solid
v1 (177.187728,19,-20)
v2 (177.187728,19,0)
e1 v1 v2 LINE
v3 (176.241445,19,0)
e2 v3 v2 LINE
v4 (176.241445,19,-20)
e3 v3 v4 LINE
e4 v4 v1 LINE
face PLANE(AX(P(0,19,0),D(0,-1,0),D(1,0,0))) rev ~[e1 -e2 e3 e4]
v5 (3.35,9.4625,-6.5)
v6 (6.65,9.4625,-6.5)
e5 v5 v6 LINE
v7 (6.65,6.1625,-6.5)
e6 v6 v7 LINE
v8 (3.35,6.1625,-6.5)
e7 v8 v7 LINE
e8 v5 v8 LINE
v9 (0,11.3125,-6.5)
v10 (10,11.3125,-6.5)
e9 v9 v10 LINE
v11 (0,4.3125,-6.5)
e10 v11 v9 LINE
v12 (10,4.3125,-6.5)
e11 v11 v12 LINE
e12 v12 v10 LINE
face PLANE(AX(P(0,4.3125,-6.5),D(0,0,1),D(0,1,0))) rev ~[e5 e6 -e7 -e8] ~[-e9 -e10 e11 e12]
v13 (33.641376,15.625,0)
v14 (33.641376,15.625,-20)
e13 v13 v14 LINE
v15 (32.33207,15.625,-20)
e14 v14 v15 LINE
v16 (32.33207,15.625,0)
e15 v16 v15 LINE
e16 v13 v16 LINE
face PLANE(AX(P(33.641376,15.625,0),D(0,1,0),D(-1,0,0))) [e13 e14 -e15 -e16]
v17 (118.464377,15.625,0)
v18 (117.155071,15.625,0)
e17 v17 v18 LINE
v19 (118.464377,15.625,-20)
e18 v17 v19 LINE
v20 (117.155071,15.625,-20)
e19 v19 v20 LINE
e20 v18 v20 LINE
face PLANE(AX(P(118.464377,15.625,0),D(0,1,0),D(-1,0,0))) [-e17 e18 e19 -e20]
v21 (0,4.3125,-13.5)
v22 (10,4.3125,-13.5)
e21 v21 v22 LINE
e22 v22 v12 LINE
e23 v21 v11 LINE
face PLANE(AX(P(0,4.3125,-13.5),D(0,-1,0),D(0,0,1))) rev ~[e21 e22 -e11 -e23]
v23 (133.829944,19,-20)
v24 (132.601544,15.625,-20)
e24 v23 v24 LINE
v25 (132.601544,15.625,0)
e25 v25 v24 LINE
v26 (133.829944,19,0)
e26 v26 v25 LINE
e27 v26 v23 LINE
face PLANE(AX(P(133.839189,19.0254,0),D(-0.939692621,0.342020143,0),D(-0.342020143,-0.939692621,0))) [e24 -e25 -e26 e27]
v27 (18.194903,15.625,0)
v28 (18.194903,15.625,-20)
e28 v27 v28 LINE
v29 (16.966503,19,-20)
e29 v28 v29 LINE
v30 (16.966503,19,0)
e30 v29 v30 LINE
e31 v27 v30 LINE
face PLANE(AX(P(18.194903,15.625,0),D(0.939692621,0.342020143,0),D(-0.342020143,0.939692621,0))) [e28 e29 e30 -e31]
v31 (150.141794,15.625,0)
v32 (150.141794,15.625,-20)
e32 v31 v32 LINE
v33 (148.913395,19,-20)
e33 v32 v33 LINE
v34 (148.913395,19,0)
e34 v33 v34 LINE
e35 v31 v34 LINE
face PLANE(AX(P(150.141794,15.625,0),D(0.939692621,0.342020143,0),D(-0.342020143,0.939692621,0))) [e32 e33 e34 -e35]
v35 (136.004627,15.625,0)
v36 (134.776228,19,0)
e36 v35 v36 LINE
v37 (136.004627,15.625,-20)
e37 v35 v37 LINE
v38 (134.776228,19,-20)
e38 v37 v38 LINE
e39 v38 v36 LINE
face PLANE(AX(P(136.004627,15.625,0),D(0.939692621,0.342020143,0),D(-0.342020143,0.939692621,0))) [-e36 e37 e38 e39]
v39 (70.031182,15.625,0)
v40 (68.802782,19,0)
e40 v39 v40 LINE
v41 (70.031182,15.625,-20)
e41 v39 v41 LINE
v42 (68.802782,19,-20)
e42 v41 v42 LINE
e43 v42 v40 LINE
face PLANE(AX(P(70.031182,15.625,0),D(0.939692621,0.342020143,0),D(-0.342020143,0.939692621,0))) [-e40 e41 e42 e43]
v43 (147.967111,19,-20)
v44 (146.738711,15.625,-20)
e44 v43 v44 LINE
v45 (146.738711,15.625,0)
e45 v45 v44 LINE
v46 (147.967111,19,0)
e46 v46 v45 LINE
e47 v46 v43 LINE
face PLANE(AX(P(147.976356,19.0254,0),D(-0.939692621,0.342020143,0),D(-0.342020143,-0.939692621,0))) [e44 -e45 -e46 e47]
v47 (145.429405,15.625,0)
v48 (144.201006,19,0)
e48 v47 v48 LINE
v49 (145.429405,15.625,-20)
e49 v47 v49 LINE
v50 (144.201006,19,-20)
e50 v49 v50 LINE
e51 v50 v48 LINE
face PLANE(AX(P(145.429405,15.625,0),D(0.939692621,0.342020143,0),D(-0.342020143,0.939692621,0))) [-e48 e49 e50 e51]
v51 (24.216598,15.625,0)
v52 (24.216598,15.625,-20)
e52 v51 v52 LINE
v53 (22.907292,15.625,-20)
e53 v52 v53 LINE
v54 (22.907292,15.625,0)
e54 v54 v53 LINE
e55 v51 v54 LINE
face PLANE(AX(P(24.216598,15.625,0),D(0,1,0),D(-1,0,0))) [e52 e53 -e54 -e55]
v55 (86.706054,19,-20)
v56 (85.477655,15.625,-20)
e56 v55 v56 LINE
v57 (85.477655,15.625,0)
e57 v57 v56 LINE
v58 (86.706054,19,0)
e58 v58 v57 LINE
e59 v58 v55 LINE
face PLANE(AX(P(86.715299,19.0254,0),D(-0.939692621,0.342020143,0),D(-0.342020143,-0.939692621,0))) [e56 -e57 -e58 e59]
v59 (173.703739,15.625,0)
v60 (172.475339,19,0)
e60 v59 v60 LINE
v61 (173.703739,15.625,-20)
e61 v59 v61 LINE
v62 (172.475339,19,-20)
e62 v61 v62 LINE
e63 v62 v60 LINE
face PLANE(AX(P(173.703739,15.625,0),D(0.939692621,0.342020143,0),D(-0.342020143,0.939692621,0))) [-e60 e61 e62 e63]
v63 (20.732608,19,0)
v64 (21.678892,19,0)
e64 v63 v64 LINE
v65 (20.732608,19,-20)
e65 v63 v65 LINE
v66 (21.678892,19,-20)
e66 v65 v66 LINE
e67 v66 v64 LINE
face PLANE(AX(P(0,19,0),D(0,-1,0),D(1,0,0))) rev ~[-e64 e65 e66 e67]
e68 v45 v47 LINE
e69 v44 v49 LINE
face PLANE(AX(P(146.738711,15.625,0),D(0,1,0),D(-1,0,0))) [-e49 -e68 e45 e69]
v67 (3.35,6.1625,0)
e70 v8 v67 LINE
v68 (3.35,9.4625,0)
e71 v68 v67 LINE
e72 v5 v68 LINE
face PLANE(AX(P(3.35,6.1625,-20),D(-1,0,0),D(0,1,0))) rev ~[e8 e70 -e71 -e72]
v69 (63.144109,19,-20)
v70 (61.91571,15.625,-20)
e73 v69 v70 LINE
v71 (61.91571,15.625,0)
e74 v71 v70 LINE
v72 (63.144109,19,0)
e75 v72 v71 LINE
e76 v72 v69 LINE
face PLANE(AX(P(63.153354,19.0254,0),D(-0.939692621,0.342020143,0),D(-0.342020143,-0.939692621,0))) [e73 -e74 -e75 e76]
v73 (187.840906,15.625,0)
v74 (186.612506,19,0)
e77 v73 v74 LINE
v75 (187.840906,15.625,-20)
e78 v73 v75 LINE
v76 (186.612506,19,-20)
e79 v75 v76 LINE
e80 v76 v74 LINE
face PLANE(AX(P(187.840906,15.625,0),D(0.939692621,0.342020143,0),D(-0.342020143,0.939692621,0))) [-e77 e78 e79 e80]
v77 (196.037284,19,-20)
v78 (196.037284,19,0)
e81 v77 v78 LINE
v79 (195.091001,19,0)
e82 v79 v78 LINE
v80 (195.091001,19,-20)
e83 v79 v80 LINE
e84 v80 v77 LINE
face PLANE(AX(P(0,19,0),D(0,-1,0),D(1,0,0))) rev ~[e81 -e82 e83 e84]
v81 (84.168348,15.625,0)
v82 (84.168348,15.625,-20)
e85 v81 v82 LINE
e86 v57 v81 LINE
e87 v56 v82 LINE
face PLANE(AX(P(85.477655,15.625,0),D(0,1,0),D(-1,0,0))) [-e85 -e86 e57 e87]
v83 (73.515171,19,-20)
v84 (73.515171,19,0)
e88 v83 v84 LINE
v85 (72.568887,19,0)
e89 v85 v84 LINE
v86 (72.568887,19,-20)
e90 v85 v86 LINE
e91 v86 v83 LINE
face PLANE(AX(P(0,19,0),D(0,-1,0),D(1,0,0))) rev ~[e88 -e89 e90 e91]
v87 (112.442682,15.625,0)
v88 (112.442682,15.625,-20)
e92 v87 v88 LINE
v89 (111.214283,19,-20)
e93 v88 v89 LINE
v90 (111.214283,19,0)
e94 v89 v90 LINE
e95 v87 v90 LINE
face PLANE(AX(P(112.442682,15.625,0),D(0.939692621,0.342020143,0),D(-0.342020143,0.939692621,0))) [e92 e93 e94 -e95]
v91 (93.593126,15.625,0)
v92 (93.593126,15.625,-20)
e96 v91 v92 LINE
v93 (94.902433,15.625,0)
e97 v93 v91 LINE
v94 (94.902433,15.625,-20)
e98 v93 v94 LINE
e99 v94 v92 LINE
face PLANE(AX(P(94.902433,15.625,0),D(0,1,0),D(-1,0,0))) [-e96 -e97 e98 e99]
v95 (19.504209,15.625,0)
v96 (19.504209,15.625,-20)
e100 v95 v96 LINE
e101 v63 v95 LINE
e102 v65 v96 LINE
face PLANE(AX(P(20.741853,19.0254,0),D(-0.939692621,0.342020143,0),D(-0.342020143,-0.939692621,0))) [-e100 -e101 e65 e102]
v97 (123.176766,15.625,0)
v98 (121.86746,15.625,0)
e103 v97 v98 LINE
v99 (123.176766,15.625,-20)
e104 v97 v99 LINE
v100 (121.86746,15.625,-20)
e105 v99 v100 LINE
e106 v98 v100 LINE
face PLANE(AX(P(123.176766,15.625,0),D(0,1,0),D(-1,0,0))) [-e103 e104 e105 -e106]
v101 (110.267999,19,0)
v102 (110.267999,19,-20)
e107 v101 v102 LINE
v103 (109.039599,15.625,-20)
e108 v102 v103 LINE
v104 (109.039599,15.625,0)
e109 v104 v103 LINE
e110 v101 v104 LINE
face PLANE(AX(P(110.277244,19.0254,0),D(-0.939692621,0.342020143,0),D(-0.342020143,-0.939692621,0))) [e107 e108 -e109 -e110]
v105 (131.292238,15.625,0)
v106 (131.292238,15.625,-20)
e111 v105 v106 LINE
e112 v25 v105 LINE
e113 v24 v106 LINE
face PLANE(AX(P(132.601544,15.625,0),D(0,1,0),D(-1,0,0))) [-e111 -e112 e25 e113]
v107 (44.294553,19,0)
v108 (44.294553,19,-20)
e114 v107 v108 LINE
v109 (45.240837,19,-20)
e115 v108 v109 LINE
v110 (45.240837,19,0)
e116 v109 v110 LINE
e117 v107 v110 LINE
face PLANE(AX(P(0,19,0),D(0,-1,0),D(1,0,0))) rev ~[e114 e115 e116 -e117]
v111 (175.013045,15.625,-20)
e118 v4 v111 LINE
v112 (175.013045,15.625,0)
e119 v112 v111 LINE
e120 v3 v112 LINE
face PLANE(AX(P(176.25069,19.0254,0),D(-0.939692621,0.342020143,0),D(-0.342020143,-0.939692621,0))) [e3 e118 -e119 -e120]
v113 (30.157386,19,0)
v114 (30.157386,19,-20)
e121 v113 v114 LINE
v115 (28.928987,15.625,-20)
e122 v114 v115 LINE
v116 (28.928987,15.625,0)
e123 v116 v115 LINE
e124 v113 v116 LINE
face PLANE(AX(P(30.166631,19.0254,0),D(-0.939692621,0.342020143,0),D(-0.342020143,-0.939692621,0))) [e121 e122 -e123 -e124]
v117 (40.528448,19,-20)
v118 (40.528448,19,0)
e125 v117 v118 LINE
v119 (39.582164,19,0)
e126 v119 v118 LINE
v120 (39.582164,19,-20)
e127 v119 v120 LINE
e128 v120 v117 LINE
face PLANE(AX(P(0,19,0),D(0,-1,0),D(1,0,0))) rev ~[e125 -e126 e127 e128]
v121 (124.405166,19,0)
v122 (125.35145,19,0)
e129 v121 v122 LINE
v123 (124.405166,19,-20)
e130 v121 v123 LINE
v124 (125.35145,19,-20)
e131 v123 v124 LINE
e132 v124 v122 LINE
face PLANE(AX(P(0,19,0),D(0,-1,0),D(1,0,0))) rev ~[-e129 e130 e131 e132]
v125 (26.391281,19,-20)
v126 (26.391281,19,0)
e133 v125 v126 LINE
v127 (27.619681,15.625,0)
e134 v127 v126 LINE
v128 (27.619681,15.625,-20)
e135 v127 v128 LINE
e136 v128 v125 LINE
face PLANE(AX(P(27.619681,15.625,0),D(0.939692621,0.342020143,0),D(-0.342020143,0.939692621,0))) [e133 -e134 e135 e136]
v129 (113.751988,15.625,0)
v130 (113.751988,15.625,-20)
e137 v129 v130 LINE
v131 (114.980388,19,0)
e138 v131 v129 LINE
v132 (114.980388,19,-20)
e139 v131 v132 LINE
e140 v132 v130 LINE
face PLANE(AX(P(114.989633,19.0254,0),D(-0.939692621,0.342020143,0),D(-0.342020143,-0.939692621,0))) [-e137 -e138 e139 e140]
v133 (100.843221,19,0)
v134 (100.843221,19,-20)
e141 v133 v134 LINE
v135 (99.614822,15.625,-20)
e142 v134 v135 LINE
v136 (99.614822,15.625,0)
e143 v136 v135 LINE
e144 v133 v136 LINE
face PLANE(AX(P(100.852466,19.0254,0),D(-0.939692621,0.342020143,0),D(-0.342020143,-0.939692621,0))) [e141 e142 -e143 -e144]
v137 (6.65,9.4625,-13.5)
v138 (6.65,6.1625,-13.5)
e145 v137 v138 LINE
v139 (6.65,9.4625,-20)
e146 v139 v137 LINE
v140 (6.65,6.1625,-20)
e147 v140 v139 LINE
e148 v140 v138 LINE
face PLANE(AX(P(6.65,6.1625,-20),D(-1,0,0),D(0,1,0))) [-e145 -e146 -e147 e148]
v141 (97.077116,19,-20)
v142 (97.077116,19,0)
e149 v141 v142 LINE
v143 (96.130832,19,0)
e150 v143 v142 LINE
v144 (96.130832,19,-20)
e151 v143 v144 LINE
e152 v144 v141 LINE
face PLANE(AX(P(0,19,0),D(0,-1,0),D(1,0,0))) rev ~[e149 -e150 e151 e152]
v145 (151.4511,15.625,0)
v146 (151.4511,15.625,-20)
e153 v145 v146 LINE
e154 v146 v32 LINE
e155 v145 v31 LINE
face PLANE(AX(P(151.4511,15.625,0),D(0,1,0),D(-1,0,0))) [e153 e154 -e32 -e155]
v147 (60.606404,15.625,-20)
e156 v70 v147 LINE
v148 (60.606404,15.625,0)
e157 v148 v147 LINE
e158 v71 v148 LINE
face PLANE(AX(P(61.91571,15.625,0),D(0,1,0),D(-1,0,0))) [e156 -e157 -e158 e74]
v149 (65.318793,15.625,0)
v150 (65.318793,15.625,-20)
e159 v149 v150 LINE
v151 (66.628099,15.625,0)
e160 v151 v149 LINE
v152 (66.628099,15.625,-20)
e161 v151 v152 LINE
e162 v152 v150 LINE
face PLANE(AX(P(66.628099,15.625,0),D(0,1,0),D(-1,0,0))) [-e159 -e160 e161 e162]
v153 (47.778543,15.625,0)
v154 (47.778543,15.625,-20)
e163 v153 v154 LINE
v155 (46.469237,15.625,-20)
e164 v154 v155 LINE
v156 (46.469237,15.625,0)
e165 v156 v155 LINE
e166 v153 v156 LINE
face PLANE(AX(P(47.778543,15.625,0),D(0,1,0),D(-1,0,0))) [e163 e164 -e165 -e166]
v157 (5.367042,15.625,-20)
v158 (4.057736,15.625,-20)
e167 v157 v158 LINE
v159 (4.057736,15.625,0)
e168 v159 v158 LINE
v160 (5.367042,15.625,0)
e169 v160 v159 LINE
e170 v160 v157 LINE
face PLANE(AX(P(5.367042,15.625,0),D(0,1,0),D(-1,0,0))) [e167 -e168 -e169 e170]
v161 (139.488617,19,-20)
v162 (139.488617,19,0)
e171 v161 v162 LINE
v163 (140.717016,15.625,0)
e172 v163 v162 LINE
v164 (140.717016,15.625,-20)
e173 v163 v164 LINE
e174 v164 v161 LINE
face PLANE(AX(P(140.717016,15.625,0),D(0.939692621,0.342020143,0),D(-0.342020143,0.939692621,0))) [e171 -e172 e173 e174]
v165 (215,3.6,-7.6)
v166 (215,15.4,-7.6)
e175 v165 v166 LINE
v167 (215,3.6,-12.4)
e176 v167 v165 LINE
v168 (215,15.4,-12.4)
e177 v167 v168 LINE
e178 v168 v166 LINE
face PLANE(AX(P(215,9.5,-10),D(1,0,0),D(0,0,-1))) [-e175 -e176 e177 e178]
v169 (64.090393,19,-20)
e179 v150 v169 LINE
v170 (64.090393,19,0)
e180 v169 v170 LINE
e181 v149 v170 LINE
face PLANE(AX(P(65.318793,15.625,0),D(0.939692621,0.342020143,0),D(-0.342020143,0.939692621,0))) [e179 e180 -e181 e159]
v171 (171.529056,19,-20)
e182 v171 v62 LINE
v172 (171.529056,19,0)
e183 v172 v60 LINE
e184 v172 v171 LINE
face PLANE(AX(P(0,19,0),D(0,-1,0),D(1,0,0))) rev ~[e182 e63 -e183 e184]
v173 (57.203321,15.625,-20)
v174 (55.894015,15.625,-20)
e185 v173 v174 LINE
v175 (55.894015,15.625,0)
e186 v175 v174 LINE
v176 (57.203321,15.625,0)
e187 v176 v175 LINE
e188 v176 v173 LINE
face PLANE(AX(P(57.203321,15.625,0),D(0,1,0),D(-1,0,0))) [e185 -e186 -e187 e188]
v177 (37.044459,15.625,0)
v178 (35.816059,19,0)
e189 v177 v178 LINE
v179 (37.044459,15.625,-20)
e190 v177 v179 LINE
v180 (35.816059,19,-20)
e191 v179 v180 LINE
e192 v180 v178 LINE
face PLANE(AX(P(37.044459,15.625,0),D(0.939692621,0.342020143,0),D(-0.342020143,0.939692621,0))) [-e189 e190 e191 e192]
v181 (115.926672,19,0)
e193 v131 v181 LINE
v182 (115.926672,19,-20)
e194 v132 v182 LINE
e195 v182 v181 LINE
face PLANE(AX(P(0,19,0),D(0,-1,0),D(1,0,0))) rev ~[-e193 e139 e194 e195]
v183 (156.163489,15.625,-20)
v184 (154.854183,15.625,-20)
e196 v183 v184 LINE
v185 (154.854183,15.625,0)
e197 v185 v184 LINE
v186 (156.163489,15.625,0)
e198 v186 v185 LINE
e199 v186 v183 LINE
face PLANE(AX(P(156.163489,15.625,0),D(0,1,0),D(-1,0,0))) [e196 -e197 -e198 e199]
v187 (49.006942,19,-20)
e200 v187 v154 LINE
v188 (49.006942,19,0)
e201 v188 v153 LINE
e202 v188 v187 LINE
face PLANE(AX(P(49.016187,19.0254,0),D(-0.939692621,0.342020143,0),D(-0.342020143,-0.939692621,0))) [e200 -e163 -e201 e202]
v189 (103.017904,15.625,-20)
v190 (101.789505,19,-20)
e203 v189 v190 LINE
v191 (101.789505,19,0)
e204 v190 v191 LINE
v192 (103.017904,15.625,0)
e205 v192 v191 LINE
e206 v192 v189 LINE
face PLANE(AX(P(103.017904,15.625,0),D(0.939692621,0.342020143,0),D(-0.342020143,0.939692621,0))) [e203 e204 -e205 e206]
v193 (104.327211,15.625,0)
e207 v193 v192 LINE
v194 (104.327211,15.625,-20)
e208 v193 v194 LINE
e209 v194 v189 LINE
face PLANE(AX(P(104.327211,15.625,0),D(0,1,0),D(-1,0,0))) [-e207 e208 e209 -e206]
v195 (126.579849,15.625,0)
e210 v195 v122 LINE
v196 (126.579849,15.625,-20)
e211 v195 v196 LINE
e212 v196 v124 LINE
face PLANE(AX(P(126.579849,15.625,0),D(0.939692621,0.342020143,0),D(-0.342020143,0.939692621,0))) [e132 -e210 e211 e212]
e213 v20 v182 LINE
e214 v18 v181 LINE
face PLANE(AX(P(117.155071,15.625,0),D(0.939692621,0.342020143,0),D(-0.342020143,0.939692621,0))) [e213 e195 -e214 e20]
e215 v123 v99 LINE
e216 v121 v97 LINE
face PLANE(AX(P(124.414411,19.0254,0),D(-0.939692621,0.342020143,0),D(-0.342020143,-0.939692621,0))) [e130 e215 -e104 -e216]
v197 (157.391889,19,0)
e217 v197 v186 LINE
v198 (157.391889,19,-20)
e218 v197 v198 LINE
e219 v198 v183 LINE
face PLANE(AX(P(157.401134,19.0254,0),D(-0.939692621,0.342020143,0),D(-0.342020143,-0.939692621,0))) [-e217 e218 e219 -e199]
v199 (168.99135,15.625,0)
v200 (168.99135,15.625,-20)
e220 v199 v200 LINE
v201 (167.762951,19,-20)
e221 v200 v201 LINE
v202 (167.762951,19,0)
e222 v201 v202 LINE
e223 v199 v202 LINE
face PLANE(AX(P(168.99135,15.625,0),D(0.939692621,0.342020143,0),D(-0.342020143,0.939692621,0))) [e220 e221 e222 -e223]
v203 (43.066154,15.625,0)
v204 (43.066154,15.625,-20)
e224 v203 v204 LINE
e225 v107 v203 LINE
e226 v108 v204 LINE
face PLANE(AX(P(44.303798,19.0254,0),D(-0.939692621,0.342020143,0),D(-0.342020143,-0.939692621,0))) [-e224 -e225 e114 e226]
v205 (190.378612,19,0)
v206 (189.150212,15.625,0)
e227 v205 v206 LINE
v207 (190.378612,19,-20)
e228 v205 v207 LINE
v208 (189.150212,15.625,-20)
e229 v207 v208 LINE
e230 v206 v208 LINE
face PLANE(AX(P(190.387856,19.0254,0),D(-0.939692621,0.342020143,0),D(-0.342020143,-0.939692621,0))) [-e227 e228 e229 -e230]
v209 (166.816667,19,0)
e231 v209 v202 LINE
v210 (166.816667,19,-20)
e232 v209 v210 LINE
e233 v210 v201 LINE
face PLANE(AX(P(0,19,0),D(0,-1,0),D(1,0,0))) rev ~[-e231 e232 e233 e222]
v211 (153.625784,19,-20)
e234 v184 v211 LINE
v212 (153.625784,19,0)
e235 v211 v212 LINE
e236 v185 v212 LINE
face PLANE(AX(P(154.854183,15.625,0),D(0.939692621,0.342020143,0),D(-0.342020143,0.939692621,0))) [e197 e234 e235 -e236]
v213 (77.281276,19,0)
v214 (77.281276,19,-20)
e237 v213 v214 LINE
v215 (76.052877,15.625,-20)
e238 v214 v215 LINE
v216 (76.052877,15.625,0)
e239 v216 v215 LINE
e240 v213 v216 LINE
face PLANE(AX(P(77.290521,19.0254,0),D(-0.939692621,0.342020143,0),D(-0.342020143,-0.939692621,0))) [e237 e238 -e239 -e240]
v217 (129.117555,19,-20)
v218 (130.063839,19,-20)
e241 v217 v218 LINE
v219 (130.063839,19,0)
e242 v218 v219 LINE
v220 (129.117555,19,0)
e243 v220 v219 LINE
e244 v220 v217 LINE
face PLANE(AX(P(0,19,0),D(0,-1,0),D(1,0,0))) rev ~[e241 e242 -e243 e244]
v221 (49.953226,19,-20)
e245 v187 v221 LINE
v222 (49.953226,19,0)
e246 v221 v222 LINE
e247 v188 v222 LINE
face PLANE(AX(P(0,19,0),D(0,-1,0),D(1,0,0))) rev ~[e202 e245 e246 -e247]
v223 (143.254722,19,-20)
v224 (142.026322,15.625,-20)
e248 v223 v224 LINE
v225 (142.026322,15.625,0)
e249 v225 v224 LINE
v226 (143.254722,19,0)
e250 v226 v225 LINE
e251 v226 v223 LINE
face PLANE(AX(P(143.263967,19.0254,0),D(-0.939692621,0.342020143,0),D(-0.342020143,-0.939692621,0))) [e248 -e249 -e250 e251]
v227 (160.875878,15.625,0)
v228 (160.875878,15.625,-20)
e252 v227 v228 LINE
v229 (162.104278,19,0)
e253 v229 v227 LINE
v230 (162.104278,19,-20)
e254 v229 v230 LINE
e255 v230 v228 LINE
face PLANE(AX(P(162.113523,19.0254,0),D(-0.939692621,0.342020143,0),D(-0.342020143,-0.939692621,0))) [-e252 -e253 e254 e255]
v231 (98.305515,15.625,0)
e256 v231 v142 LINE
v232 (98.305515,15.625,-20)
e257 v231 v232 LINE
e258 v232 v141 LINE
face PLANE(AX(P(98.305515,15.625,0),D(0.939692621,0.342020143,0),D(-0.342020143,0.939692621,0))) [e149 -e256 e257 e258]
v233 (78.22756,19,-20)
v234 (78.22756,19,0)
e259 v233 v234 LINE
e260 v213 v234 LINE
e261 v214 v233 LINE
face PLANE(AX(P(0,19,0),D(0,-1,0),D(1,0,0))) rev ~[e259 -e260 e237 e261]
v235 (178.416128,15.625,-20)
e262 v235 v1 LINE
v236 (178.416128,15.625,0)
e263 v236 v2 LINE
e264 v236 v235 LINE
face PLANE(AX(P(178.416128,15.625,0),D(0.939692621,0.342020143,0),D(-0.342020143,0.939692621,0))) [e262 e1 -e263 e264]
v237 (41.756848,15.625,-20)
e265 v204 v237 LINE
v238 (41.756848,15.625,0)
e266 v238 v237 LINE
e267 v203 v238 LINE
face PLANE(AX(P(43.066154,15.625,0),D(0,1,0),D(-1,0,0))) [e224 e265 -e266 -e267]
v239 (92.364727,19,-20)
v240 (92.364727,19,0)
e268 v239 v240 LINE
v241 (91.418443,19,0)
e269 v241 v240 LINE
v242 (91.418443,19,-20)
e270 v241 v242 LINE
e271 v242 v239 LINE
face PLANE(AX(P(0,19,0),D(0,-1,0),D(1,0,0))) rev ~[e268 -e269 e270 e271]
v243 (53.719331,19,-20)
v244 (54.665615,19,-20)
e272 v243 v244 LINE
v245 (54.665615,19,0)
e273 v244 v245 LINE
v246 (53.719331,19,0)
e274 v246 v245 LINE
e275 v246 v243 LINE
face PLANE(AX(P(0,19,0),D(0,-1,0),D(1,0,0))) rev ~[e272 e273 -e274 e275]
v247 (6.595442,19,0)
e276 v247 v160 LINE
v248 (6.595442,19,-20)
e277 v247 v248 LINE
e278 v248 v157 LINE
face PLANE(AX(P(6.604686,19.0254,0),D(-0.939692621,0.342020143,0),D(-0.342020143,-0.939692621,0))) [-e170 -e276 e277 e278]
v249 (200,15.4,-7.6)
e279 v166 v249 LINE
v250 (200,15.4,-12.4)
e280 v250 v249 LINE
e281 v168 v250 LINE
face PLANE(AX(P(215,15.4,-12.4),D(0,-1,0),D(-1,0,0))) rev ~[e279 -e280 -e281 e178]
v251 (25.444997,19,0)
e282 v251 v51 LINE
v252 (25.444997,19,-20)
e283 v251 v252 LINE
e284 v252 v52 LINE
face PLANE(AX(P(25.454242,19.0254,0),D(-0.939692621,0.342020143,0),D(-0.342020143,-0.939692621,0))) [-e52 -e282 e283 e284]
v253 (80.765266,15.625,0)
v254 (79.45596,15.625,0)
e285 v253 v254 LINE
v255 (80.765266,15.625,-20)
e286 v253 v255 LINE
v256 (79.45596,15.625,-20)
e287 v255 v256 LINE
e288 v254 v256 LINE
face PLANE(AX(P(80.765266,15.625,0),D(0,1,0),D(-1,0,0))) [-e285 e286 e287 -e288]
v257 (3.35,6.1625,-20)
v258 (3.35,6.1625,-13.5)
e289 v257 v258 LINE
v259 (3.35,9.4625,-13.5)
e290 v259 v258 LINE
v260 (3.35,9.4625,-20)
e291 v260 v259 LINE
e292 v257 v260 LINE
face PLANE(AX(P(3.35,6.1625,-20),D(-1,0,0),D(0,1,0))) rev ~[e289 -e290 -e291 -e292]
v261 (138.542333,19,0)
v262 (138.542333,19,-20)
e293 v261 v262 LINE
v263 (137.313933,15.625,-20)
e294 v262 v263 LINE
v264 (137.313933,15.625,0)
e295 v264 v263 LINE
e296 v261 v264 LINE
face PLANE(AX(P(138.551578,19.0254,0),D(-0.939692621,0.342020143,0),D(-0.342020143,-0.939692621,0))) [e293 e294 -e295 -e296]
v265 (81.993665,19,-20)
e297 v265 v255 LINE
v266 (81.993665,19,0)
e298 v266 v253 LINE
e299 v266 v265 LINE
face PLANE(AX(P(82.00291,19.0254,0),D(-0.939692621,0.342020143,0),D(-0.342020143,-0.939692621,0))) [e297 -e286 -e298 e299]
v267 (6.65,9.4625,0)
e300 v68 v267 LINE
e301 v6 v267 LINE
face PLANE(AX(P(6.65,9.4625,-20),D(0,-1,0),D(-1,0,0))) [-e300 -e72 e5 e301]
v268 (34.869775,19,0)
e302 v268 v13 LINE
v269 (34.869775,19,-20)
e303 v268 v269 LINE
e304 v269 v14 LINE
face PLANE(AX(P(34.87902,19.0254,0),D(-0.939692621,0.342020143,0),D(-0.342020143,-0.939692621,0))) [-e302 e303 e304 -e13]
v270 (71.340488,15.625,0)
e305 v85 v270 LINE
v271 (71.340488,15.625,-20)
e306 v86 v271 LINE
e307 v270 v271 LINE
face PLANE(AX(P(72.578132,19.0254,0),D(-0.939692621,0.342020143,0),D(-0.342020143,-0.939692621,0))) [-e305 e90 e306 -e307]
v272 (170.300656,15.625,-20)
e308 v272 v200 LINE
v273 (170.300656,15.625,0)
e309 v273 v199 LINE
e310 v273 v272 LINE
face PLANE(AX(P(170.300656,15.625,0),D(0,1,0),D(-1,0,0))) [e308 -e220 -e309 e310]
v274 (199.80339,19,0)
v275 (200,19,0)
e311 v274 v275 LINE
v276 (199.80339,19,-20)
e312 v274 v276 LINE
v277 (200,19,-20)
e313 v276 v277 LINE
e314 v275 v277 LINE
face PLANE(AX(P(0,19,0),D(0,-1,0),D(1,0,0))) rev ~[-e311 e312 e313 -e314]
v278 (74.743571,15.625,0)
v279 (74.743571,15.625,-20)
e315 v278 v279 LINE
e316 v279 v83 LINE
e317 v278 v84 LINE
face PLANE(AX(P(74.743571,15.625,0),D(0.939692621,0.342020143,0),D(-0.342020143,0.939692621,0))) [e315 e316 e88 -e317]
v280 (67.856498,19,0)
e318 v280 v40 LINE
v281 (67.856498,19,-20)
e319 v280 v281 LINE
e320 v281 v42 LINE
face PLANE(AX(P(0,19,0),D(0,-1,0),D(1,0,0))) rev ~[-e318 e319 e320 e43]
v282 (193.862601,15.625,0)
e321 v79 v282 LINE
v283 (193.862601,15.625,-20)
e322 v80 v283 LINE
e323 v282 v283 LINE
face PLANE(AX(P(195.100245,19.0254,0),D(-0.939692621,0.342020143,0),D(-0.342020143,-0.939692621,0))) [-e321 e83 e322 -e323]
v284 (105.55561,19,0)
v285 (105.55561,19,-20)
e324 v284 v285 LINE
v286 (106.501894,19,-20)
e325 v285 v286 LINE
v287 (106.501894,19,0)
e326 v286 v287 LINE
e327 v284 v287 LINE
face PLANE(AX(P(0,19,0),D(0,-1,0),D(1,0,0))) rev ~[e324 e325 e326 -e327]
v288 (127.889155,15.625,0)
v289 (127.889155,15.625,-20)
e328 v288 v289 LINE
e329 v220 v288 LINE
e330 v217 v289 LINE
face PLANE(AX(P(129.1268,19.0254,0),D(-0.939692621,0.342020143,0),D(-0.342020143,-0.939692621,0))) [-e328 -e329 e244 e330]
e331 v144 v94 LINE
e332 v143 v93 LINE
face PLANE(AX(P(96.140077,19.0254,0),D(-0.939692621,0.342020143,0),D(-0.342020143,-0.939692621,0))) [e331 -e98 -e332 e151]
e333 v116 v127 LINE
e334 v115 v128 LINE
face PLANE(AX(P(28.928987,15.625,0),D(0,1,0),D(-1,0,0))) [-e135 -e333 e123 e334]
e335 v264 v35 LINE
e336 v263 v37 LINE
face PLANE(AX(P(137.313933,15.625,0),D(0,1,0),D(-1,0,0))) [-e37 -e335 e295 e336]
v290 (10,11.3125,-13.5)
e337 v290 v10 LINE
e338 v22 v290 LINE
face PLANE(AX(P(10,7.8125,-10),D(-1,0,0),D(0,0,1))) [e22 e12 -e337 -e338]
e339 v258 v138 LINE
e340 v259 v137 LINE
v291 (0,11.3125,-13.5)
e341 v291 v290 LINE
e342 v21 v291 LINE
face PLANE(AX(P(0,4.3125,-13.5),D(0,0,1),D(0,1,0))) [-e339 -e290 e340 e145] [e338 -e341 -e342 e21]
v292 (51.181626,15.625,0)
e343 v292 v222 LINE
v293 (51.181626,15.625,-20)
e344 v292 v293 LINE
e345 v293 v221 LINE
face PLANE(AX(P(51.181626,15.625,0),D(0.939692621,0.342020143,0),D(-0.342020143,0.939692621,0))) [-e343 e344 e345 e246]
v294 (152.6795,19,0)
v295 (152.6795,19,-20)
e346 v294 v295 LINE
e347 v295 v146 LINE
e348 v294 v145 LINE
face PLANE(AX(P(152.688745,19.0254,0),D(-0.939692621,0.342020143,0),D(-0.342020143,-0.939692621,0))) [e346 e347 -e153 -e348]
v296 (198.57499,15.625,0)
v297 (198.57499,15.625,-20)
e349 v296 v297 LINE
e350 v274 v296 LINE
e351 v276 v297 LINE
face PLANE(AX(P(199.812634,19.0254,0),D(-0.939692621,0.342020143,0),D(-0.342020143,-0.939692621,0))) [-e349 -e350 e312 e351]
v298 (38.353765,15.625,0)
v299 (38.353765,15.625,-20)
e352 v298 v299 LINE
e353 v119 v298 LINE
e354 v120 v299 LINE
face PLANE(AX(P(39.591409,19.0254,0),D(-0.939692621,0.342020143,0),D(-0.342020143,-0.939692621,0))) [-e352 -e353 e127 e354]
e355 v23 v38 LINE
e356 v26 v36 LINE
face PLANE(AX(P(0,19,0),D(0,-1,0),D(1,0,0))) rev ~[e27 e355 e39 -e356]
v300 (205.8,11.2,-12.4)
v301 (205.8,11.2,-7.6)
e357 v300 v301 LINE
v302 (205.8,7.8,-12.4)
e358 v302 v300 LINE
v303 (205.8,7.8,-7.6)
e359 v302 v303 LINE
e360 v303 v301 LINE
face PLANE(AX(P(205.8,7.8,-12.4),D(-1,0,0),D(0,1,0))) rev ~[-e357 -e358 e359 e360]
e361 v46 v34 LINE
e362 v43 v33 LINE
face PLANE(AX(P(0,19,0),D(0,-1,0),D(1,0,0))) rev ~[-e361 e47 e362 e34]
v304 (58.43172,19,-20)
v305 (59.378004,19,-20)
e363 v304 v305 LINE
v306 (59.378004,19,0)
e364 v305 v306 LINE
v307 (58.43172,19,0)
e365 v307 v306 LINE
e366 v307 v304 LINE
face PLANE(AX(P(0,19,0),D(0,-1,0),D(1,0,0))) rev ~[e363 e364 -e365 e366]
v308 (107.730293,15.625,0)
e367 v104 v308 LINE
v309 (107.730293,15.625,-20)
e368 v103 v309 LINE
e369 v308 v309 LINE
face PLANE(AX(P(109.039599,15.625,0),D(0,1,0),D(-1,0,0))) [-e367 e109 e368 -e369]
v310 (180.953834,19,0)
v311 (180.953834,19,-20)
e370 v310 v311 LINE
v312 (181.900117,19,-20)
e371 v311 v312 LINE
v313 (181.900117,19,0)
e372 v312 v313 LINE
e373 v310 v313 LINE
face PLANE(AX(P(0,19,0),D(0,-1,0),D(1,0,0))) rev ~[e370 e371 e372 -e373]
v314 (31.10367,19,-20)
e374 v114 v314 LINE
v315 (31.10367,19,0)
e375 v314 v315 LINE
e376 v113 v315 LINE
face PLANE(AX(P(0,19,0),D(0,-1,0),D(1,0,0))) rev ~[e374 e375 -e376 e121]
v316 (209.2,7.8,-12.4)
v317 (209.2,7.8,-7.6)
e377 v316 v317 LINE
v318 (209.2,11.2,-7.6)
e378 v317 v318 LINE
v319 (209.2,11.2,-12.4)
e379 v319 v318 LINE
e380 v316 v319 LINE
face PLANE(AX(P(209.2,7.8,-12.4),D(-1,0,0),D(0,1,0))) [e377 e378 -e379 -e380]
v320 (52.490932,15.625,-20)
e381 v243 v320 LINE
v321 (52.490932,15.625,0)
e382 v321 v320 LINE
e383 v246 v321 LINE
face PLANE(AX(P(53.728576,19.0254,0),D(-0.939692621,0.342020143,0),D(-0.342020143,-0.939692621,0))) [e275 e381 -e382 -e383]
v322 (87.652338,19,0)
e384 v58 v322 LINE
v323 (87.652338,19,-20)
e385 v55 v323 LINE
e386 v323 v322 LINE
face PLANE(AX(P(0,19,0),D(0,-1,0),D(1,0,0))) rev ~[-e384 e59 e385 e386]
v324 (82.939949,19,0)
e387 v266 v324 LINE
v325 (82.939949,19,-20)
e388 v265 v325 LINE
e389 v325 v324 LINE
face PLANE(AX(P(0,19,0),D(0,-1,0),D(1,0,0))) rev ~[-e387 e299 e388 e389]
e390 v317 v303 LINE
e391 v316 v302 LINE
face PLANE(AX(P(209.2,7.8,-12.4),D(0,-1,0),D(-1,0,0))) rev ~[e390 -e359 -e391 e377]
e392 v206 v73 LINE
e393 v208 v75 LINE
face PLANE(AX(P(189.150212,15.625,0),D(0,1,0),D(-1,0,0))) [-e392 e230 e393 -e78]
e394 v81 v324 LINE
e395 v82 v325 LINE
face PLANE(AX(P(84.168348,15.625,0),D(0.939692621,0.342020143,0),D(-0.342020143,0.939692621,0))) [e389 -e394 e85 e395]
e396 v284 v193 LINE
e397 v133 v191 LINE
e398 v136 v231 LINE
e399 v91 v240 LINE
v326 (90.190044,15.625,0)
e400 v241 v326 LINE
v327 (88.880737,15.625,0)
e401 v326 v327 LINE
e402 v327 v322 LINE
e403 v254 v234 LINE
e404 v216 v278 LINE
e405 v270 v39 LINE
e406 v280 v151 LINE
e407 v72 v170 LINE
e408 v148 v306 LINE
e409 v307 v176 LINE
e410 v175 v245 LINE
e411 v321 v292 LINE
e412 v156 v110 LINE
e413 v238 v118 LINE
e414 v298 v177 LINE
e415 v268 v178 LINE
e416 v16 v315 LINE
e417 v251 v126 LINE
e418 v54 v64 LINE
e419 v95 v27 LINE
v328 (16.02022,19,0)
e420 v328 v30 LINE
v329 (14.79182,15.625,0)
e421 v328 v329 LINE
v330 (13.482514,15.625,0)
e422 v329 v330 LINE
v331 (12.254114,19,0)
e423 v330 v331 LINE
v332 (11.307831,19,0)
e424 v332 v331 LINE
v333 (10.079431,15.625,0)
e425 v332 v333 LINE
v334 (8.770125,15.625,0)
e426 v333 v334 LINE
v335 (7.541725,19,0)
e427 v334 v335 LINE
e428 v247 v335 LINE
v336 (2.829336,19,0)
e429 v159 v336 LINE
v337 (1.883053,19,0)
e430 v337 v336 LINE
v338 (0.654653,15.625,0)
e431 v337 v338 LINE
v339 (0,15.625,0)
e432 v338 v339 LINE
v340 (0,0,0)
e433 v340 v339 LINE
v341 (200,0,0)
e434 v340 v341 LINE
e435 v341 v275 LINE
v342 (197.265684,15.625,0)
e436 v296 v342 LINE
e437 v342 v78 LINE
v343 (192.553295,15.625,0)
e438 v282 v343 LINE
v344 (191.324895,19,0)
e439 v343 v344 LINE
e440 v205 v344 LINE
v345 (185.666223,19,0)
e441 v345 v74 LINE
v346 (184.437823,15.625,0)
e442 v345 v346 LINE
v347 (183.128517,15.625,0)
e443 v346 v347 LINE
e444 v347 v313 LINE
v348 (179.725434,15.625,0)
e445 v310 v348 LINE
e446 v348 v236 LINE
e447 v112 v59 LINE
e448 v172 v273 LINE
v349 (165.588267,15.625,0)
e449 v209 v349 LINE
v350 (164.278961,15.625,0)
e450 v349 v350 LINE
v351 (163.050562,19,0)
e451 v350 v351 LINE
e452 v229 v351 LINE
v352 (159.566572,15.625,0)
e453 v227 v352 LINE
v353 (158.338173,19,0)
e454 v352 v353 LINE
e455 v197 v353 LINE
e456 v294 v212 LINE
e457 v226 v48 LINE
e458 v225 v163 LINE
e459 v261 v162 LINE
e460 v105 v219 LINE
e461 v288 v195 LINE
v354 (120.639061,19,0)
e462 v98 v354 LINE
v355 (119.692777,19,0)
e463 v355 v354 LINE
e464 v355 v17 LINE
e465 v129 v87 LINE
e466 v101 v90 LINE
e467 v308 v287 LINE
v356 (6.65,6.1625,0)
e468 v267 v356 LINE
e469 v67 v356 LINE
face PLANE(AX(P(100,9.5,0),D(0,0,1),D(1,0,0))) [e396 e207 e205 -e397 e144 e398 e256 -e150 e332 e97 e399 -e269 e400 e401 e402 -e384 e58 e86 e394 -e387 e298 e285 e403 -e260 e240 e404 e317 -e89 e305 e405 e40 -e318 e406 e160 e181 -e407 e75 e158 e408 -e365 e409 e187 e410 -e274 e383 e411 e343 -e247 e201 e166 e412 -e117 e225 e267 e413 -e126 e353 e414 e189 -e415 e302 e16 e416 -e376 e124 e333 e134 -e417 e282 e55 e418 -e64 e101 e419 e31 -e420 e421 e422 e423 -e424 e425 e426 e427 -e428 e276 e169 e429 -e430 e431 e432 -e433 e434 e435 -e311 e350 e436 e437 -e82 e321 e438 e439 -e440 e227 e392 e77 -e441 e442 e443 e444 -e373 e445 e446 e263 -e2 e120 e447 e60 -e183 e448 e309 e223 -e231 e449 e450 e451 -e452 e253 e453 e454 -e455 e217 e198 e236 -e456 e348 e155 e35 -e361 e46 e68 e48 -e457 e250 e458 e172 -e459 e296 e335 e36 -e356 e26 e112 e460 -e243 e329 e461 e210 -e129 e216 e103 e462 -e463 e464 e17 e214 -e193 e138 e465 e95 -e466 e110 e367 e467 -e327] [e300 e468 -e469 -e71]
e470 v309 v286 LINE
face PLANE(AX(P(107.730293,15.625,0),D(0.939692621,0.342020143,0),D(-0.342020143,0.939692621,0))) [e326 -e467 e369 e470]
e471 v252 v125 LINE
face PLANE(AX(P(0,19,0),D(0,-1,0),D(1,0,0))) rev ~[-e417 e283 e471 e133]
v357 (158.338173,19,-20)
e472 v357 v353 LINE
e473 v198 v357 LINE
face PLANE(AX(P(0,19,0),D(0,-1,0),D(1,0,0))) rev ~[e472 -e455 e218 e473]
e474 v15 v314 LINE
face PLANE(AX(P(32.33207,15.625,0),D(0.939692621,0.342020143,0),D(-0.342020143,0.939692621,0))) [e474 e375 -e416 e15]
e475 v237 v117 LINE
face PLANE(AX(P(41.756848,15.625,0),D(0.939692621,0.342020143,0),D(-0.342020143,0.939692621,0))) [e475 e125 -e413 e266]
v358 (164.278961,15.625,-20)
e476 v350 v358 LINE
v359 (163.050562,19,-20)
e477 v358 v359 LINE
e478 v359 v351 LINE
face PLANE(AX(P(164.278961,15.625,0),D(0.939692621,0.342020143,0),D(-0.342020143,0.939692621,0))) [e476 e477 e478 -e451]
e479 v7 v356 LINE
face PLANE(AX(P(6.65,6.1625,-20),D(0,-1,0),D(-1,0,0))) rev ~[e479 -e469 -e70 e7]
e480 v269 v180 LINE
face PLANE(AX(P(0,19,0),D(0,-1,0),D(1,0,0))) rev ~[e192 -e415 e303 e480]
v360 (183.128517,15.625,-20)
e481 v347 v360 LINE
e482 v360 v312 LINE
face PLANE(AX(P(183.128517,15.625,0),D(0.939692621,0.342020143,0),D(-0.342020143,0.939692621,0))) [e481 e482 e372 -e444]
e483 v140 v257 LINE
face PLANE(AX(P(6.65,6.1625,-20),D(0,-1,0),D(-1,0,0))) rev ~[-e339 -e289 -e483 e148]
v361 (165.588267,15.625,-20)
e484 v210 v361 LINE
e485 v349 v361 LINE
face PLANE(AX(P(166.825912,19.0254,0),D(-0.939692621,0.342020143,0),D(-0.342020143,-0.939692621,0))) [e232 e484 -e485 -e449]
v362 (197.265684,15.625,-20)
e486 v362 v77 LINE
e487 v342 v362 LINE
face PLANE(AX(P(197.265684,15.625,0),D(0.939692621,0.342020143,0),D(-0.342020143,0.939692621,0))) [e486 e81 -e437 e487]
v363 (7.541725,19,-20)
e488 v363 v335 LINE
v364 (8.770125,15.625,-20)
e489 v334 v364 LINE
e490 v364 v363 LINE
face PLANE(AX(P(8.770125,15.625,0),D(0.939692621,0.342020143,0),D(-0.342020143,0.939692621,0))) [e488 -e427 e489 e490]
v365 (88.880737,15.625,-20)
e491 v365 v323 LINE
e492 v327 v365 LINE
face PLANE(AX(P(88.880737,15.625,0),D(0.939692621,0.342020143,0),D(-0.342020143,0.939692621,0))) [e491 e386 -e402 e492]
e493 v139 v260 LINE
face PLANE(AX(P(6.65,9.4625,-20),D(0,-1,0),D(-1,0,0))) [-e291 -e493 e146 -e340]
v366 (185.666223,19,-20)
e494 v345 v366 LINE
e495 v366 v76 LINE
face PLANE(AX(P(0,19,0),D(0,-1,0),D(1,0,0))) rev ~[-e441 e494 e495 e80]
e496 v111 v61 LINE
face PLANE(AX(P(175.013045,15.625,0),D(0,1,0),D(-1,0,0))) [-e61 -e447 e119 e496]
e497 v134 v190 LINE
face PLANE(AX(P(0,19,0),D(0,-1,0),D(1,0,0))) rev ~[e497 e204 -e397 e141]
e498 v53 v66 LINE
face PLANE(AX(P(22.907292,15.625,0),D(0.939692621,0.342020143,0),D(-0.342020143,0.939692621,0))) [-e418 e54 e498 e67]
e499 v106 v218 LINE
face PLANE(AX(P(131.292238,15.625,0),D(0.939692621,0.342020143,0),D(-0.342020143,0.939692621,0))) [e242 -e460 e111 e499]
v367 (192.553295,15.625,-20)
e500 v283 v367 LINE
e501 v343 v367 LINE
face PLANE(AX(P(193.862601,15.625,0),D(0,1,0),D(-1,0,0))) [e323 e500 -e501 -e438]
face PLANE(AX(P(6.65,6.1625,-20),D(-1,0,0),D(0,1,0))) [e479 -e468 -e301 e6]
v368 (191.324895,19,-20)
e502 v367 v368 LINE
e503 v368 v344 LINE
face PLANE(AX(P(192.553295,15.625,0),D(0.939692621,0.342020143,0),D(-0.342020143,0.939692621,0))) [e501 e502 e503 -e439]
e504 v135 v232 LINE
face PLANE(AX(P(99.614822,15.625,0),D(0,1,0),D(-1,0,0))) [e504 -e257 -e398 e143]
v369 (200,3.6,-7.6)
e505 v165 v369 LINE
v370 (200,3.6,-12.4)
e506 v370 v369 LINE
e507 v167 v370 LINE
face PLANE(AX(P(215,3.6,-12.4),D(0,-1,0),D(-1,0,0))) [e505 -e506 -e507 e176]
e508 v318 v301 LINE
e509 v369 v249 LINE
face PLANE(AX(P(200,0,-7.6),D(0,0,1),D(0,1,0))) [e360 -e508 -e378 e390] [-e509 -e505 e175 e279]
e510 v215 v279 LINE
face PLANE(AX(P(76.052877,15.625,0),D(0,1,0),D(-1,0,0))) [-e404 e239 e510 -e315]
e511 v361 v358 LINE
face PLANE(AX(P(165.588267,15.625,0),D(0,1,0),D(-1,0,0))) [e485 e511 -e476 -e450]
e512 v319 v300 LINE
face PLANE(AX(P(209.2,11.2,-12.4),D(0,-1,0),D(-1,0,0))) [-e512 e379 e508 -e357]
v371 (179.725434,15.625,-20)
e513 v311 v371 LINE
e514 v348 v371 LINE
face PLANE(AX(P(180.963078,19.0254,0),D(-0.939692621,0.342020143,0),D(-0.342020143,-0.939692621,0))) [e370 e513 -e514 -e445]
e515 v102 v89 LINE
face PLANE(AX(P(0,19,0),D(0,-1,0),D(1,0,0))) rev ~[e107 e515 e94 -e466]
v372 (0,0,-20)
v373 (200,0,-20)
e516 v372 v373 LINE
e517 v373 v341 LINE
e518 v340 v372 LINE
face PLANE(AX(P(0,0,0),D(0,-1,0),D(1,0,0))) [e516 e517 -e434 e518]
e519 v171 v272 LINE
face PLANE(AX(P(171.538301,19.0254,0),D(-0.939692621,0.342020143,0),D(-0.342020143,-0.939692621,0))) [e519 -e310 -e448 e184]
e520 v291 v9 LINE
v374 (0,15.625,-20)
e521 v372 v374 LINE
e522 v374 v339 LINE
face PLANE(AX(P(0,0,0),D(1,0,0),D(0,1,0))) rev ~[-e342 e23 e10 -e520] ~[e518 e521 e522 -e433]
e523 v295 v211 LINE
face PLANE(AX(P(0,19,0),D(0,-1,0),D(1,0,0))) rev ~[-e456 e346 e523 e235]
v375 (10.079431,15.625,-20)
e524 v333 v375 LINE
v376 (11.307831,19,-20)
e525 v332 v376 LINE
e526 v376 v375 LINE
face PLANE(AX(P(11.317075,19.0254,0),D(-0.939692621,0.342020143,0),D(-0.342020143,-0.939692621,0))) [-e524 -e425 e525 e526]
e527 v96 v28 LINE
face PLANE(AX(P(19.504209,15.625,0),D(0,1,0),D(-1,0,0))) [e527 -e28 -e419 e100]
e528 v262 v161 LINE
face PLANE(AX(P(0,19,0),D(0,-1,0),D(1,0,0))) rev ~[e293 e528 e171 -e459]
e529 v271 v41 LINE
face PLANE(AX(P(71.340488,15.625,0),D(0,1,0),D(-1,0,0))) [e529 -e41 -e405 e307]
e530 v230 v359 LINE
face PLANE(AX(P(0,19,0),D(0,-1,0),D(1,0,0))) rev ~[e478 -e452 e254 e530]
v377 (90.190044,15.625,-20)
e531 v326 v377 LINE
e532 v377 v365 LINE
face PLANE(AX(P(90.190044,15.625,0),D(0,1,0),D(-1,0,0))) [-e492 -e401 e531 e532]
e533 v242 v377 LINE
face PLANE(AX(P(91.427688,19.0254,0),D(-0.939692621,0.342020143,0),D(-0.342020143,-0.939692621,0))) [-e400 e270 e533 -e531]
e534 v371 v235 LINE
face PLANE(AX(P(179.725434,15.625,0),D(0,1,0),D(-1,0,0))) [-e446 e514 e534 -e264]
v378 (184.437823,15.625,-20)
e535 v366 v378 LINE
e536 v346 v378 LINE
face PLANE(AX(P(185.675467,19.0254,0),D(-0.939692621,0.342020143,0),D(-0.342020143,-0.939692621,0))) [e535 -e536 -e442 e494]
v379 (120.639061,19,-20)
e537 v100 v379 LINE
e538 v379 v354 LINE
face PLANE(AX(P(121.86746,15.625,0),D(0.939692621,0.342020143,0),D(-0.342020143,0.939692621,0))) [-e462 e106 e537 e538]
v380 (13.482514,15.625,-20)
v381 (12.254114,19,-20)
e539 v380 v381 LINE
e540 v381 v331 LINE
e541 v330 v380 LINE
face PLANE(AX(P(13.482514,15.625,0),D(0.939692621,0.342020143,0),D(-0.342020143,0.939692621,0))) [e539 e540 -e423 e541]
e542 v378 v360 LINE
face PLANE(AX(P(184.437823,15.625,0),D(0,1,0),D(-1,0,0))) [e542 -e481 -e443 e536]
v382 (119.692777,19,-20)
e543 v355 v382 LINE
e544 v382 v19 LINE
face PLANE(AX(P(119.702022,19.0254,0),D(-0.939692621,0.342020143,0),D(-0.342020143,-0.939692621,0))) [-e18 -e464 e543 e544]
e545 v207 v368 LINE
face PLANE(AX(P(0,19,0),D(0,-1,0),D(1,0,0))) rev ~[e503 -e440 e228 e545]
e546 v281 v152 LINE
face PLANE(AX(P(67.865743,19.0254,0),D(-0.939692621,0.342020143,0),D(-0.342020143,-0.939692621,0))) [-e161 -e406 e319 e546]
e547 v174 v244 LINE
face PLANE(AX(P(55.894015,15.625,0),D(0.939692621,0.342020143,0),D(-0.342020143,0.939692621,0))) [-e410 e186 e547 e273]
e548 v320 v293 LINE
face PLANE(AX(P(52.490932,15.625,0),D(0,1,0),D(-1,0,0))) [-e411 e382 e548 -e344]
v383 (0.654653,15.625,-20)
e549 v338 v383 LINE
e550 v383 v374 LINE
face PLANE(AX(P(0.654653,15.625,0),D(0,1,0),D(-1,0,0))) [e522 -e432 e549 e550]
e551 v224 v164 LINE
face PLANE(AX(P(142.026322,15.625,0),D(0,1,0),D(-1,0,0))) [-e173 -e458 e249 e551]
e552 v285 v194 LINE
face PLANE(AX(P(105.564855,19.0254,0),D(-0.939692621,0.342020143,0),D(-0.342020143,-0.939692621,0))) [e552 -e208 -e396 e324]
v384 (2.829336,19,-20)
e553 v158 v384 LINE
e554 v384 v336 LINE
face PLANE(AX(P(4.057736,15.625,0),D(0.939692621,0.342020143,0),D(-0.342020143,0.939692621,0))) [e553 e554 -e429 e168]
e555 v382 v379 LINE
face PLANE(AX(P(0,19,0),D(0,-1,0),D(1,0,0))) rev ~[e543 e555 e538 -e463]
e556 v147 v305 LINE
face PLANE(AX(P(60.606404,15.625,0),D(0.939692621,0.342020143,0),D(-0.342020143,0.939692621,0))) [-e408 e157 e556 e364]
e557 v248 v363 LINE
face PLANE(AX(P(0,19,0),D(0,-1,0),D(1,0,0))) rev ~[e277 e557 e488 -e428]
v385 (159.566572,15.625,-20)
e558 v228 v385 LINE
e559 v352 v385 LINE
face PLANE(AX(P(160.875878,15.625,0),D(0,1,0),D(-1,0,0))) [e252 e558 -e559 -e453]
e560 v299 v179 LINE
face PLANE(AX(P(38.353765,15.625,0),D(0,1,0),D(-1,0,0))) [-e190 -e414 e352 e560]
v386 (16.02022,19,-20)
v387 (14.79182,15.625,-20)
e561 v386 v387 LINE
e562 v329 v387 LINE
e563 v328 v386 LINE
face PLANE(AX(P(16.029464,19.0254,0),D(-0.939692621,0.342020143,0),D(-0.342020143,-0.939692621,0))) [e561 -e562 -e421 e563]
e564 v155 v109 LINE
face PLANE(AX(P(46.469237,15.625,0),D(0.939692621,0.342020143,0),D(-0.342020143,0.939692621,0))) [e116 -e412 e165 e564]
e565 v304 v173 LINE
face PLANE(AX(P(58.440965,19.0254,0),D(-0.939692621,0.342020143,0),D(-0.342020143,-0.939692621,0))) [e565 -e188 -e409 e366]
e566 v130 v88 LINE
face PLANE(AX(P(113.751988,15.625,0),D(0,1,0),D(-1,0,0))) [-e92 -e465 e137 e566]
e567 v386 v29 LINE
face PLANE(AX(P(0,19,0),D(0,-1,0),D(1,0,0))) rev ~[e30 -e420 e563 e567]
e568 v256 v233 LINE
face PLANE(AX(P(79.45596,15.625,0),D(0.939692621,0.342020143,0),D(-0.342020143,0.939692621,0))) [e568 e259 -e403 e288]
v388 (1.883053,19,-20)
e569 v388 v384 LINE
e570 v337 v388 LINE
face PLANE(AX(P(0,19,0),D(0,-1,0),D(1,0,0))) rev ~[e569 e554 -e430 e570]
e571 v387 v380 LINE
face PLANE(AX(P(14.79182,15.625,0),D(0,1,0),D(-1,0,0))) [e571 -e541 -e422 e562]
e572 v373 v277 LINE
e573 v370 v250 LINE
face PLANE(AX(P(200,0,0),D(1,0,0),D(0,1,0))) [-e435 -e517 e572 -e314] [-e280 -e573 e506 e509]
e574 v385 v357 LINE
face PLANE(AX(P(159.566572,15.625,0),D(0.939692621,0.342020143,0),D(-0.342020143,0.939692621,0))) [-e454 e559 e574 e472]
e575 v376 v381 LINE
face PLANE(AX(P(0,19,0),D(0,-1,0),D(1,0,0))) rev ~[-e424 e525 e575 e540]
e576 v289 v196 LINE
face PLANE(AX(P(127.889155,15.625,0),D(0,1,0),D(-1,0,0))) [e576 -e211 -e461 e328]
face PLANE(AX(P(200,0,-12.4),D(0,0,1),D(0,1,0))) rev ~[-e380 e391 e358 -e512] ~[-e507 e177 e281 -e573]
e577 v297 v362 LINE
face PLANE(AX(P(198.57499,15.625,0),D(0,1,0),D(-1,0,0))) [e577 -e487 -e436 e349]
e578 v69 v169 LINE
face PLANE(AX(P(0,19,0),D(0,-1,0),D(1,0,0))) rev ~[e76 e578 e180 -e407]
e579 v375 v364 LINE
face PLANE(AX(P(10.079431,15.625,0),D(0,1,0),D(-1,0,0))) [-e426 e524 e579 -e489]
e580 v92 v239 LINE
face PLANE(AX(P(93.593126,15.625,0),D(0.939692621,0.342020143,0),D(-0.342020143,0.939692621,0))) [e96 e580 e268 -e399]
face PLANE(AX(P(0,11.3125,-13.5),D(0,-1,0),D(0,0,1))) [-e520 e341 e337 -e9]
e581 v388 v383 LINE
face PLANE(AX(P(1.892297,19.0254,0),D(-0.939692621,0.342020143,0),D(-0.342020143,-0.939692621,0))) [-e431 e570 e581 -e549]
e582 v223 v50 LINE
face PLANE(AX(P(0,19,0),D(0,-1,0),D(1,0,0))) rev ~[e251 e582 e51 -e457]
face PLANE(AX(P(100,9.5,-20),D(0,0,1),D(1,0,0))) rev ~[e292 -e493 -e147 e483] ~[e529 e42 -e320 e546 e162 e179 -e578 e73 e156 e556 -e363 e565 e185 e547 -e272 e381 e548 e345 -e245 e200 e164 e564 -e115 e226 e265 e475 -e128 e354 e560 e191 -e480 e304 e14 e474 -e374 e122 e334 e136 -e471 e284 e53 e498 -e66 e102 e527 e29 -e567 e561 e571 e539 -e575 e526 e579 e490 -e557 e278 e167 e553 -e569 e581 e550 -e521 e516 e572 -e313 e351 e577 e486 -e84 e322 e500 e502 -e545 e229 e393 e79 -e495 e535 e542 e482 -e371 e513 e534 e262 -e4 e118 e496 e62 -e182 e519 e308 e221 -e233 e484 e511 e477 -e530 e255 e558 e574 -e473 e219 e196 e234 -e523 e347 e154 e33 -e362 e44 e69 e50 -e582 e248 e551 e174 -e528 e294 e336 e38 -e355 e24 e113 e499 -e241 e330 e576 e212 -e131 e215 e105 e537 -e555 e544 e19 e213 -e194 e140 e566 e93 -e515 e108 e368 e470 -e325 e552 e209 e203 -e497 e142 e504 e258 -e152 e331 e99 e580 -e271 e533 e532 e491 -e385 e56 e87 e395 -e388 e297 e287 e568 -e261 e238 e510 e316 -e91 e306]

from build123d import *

# Parameters (mm, degrees)
BLANKSKE_W          = 200
BLANKSKE_H          = 19
BLANK_DEPTH         = 20
TOOTHCUTSIM_DEPTH   = 202.893536301
TEETHCUTS_COUNT     = 43
TEETHCUTS_PITCH     = 4.712388975
SKETCH1_W           = 4.8
SKETCH1_H           = 19
BOSS_EXTRUDE1_DEPTH = 15
SKETCH2_W           = 15
SKETCH2_H           = 3.6
SKETCH2_W_2         = 3.4
SKETCH2_H_2         = 3.4
CUT_EXTRUDE1_DEPTH  = 4.8
SKETCH3_W           = 7
SKETCH3_H           = 7
CUT_EXTRUDE3_DEPTH  = 10
SKETCH4_W           = 3.3
SKETCH4_H           = 3.3
CUT_EXTRUDE4_DEPTH  = 25


with BuildPart() as part:
    # BlankSke → Blank (new body)
    with BuildSketch(Plane.XY):
        with Locations((100, 9.5)):
            Rectangle(BLANKSKE_W, BLANKSKE_H)
    extrude(amount=-BLANK_DEPTH)

    # TooCutSkeSim → ToothCutSim (cut, through all)
    with BuildSketch(Plane.XY):
        Polygon((0.654653055, 15.625), (-0.654653055, 15.625), (-1.892297439, 19.0254), (1.892297439, 19.0254), align=None)
    toothcutsim = extrude(amount=-TOOTHCUTSIM_DEPTH, mode=Mode.SUBTRACT)

    # TeethCuts: ToothCutSim ×43
    with Locations(*[(i * TEETHCUTS_PITCH, 0, 0) for i in range(1, TEETHCUTS_COUNT)]):
        add(toothcutsim, mode=Mode.SUBTRACT)

    # Sketch1 → Boss-Extrude1 (add)
    with BuildSketch(Plane(origin=(200, 0, 0), x_dir=(0, 0, -1), z_dir=(1, 0, 0))):
        with Locations((10, 9.5)):
            Rectangle(SKETCH1_W, SKETCH1_H)
    extrude(amount=BOSS_EXTRUDE1_DEPTH)

    # Sketch2 → Cut-Extrude1 (cut)
    with BuildSketch(Plane(origin=(0, 0, -12.4), x_dir=(-1, 0, 0), z_dir=(0, 0, -1))):
        with Locations((-207.5, 17.2)):
            Rectangle(SKETCH2_W, SKETCH2_H)
        with Locations((-207.5, 1.8)):
            Rectangle(SKETCH2_W, SKETCH2_H)
        with Locations((-207.5, 9.5)):
            Rectangle(SKETCH2_W_2, SKETCH2_H_2)
    extrude(amount=-CUT_EXTRUDE1_DEPTH, mode=Mode.SUBTRACT)

    # Sketch3 → Cut-Extrude3 (cut)
    with BuildSketch(Plane.ZY):
        with Locations((-10, 7.8125)):
            Rectangle(SKETCH3_W, SKETCH3_H)
    extrude(amount=-CUT_EXTRUDE3_DEPTH, mode=Mode.SUBTRACT)

    # Sketch4 → Cut-Extrude4 (cut)
    with BuildSketch(Plane(origin=(0, 0, -20), x_dir=(-1, 0, 0), z_dir=(0, 0, -1))):
        with Locations((-5, 7.8125)):
            Rectangle(SKETCH4_W, SKETCH4_H)
    extrude(amount=-CUT_EXTRUDE4_DEPTH, mode=Mode.SUBTRACT)


solid = part.part
